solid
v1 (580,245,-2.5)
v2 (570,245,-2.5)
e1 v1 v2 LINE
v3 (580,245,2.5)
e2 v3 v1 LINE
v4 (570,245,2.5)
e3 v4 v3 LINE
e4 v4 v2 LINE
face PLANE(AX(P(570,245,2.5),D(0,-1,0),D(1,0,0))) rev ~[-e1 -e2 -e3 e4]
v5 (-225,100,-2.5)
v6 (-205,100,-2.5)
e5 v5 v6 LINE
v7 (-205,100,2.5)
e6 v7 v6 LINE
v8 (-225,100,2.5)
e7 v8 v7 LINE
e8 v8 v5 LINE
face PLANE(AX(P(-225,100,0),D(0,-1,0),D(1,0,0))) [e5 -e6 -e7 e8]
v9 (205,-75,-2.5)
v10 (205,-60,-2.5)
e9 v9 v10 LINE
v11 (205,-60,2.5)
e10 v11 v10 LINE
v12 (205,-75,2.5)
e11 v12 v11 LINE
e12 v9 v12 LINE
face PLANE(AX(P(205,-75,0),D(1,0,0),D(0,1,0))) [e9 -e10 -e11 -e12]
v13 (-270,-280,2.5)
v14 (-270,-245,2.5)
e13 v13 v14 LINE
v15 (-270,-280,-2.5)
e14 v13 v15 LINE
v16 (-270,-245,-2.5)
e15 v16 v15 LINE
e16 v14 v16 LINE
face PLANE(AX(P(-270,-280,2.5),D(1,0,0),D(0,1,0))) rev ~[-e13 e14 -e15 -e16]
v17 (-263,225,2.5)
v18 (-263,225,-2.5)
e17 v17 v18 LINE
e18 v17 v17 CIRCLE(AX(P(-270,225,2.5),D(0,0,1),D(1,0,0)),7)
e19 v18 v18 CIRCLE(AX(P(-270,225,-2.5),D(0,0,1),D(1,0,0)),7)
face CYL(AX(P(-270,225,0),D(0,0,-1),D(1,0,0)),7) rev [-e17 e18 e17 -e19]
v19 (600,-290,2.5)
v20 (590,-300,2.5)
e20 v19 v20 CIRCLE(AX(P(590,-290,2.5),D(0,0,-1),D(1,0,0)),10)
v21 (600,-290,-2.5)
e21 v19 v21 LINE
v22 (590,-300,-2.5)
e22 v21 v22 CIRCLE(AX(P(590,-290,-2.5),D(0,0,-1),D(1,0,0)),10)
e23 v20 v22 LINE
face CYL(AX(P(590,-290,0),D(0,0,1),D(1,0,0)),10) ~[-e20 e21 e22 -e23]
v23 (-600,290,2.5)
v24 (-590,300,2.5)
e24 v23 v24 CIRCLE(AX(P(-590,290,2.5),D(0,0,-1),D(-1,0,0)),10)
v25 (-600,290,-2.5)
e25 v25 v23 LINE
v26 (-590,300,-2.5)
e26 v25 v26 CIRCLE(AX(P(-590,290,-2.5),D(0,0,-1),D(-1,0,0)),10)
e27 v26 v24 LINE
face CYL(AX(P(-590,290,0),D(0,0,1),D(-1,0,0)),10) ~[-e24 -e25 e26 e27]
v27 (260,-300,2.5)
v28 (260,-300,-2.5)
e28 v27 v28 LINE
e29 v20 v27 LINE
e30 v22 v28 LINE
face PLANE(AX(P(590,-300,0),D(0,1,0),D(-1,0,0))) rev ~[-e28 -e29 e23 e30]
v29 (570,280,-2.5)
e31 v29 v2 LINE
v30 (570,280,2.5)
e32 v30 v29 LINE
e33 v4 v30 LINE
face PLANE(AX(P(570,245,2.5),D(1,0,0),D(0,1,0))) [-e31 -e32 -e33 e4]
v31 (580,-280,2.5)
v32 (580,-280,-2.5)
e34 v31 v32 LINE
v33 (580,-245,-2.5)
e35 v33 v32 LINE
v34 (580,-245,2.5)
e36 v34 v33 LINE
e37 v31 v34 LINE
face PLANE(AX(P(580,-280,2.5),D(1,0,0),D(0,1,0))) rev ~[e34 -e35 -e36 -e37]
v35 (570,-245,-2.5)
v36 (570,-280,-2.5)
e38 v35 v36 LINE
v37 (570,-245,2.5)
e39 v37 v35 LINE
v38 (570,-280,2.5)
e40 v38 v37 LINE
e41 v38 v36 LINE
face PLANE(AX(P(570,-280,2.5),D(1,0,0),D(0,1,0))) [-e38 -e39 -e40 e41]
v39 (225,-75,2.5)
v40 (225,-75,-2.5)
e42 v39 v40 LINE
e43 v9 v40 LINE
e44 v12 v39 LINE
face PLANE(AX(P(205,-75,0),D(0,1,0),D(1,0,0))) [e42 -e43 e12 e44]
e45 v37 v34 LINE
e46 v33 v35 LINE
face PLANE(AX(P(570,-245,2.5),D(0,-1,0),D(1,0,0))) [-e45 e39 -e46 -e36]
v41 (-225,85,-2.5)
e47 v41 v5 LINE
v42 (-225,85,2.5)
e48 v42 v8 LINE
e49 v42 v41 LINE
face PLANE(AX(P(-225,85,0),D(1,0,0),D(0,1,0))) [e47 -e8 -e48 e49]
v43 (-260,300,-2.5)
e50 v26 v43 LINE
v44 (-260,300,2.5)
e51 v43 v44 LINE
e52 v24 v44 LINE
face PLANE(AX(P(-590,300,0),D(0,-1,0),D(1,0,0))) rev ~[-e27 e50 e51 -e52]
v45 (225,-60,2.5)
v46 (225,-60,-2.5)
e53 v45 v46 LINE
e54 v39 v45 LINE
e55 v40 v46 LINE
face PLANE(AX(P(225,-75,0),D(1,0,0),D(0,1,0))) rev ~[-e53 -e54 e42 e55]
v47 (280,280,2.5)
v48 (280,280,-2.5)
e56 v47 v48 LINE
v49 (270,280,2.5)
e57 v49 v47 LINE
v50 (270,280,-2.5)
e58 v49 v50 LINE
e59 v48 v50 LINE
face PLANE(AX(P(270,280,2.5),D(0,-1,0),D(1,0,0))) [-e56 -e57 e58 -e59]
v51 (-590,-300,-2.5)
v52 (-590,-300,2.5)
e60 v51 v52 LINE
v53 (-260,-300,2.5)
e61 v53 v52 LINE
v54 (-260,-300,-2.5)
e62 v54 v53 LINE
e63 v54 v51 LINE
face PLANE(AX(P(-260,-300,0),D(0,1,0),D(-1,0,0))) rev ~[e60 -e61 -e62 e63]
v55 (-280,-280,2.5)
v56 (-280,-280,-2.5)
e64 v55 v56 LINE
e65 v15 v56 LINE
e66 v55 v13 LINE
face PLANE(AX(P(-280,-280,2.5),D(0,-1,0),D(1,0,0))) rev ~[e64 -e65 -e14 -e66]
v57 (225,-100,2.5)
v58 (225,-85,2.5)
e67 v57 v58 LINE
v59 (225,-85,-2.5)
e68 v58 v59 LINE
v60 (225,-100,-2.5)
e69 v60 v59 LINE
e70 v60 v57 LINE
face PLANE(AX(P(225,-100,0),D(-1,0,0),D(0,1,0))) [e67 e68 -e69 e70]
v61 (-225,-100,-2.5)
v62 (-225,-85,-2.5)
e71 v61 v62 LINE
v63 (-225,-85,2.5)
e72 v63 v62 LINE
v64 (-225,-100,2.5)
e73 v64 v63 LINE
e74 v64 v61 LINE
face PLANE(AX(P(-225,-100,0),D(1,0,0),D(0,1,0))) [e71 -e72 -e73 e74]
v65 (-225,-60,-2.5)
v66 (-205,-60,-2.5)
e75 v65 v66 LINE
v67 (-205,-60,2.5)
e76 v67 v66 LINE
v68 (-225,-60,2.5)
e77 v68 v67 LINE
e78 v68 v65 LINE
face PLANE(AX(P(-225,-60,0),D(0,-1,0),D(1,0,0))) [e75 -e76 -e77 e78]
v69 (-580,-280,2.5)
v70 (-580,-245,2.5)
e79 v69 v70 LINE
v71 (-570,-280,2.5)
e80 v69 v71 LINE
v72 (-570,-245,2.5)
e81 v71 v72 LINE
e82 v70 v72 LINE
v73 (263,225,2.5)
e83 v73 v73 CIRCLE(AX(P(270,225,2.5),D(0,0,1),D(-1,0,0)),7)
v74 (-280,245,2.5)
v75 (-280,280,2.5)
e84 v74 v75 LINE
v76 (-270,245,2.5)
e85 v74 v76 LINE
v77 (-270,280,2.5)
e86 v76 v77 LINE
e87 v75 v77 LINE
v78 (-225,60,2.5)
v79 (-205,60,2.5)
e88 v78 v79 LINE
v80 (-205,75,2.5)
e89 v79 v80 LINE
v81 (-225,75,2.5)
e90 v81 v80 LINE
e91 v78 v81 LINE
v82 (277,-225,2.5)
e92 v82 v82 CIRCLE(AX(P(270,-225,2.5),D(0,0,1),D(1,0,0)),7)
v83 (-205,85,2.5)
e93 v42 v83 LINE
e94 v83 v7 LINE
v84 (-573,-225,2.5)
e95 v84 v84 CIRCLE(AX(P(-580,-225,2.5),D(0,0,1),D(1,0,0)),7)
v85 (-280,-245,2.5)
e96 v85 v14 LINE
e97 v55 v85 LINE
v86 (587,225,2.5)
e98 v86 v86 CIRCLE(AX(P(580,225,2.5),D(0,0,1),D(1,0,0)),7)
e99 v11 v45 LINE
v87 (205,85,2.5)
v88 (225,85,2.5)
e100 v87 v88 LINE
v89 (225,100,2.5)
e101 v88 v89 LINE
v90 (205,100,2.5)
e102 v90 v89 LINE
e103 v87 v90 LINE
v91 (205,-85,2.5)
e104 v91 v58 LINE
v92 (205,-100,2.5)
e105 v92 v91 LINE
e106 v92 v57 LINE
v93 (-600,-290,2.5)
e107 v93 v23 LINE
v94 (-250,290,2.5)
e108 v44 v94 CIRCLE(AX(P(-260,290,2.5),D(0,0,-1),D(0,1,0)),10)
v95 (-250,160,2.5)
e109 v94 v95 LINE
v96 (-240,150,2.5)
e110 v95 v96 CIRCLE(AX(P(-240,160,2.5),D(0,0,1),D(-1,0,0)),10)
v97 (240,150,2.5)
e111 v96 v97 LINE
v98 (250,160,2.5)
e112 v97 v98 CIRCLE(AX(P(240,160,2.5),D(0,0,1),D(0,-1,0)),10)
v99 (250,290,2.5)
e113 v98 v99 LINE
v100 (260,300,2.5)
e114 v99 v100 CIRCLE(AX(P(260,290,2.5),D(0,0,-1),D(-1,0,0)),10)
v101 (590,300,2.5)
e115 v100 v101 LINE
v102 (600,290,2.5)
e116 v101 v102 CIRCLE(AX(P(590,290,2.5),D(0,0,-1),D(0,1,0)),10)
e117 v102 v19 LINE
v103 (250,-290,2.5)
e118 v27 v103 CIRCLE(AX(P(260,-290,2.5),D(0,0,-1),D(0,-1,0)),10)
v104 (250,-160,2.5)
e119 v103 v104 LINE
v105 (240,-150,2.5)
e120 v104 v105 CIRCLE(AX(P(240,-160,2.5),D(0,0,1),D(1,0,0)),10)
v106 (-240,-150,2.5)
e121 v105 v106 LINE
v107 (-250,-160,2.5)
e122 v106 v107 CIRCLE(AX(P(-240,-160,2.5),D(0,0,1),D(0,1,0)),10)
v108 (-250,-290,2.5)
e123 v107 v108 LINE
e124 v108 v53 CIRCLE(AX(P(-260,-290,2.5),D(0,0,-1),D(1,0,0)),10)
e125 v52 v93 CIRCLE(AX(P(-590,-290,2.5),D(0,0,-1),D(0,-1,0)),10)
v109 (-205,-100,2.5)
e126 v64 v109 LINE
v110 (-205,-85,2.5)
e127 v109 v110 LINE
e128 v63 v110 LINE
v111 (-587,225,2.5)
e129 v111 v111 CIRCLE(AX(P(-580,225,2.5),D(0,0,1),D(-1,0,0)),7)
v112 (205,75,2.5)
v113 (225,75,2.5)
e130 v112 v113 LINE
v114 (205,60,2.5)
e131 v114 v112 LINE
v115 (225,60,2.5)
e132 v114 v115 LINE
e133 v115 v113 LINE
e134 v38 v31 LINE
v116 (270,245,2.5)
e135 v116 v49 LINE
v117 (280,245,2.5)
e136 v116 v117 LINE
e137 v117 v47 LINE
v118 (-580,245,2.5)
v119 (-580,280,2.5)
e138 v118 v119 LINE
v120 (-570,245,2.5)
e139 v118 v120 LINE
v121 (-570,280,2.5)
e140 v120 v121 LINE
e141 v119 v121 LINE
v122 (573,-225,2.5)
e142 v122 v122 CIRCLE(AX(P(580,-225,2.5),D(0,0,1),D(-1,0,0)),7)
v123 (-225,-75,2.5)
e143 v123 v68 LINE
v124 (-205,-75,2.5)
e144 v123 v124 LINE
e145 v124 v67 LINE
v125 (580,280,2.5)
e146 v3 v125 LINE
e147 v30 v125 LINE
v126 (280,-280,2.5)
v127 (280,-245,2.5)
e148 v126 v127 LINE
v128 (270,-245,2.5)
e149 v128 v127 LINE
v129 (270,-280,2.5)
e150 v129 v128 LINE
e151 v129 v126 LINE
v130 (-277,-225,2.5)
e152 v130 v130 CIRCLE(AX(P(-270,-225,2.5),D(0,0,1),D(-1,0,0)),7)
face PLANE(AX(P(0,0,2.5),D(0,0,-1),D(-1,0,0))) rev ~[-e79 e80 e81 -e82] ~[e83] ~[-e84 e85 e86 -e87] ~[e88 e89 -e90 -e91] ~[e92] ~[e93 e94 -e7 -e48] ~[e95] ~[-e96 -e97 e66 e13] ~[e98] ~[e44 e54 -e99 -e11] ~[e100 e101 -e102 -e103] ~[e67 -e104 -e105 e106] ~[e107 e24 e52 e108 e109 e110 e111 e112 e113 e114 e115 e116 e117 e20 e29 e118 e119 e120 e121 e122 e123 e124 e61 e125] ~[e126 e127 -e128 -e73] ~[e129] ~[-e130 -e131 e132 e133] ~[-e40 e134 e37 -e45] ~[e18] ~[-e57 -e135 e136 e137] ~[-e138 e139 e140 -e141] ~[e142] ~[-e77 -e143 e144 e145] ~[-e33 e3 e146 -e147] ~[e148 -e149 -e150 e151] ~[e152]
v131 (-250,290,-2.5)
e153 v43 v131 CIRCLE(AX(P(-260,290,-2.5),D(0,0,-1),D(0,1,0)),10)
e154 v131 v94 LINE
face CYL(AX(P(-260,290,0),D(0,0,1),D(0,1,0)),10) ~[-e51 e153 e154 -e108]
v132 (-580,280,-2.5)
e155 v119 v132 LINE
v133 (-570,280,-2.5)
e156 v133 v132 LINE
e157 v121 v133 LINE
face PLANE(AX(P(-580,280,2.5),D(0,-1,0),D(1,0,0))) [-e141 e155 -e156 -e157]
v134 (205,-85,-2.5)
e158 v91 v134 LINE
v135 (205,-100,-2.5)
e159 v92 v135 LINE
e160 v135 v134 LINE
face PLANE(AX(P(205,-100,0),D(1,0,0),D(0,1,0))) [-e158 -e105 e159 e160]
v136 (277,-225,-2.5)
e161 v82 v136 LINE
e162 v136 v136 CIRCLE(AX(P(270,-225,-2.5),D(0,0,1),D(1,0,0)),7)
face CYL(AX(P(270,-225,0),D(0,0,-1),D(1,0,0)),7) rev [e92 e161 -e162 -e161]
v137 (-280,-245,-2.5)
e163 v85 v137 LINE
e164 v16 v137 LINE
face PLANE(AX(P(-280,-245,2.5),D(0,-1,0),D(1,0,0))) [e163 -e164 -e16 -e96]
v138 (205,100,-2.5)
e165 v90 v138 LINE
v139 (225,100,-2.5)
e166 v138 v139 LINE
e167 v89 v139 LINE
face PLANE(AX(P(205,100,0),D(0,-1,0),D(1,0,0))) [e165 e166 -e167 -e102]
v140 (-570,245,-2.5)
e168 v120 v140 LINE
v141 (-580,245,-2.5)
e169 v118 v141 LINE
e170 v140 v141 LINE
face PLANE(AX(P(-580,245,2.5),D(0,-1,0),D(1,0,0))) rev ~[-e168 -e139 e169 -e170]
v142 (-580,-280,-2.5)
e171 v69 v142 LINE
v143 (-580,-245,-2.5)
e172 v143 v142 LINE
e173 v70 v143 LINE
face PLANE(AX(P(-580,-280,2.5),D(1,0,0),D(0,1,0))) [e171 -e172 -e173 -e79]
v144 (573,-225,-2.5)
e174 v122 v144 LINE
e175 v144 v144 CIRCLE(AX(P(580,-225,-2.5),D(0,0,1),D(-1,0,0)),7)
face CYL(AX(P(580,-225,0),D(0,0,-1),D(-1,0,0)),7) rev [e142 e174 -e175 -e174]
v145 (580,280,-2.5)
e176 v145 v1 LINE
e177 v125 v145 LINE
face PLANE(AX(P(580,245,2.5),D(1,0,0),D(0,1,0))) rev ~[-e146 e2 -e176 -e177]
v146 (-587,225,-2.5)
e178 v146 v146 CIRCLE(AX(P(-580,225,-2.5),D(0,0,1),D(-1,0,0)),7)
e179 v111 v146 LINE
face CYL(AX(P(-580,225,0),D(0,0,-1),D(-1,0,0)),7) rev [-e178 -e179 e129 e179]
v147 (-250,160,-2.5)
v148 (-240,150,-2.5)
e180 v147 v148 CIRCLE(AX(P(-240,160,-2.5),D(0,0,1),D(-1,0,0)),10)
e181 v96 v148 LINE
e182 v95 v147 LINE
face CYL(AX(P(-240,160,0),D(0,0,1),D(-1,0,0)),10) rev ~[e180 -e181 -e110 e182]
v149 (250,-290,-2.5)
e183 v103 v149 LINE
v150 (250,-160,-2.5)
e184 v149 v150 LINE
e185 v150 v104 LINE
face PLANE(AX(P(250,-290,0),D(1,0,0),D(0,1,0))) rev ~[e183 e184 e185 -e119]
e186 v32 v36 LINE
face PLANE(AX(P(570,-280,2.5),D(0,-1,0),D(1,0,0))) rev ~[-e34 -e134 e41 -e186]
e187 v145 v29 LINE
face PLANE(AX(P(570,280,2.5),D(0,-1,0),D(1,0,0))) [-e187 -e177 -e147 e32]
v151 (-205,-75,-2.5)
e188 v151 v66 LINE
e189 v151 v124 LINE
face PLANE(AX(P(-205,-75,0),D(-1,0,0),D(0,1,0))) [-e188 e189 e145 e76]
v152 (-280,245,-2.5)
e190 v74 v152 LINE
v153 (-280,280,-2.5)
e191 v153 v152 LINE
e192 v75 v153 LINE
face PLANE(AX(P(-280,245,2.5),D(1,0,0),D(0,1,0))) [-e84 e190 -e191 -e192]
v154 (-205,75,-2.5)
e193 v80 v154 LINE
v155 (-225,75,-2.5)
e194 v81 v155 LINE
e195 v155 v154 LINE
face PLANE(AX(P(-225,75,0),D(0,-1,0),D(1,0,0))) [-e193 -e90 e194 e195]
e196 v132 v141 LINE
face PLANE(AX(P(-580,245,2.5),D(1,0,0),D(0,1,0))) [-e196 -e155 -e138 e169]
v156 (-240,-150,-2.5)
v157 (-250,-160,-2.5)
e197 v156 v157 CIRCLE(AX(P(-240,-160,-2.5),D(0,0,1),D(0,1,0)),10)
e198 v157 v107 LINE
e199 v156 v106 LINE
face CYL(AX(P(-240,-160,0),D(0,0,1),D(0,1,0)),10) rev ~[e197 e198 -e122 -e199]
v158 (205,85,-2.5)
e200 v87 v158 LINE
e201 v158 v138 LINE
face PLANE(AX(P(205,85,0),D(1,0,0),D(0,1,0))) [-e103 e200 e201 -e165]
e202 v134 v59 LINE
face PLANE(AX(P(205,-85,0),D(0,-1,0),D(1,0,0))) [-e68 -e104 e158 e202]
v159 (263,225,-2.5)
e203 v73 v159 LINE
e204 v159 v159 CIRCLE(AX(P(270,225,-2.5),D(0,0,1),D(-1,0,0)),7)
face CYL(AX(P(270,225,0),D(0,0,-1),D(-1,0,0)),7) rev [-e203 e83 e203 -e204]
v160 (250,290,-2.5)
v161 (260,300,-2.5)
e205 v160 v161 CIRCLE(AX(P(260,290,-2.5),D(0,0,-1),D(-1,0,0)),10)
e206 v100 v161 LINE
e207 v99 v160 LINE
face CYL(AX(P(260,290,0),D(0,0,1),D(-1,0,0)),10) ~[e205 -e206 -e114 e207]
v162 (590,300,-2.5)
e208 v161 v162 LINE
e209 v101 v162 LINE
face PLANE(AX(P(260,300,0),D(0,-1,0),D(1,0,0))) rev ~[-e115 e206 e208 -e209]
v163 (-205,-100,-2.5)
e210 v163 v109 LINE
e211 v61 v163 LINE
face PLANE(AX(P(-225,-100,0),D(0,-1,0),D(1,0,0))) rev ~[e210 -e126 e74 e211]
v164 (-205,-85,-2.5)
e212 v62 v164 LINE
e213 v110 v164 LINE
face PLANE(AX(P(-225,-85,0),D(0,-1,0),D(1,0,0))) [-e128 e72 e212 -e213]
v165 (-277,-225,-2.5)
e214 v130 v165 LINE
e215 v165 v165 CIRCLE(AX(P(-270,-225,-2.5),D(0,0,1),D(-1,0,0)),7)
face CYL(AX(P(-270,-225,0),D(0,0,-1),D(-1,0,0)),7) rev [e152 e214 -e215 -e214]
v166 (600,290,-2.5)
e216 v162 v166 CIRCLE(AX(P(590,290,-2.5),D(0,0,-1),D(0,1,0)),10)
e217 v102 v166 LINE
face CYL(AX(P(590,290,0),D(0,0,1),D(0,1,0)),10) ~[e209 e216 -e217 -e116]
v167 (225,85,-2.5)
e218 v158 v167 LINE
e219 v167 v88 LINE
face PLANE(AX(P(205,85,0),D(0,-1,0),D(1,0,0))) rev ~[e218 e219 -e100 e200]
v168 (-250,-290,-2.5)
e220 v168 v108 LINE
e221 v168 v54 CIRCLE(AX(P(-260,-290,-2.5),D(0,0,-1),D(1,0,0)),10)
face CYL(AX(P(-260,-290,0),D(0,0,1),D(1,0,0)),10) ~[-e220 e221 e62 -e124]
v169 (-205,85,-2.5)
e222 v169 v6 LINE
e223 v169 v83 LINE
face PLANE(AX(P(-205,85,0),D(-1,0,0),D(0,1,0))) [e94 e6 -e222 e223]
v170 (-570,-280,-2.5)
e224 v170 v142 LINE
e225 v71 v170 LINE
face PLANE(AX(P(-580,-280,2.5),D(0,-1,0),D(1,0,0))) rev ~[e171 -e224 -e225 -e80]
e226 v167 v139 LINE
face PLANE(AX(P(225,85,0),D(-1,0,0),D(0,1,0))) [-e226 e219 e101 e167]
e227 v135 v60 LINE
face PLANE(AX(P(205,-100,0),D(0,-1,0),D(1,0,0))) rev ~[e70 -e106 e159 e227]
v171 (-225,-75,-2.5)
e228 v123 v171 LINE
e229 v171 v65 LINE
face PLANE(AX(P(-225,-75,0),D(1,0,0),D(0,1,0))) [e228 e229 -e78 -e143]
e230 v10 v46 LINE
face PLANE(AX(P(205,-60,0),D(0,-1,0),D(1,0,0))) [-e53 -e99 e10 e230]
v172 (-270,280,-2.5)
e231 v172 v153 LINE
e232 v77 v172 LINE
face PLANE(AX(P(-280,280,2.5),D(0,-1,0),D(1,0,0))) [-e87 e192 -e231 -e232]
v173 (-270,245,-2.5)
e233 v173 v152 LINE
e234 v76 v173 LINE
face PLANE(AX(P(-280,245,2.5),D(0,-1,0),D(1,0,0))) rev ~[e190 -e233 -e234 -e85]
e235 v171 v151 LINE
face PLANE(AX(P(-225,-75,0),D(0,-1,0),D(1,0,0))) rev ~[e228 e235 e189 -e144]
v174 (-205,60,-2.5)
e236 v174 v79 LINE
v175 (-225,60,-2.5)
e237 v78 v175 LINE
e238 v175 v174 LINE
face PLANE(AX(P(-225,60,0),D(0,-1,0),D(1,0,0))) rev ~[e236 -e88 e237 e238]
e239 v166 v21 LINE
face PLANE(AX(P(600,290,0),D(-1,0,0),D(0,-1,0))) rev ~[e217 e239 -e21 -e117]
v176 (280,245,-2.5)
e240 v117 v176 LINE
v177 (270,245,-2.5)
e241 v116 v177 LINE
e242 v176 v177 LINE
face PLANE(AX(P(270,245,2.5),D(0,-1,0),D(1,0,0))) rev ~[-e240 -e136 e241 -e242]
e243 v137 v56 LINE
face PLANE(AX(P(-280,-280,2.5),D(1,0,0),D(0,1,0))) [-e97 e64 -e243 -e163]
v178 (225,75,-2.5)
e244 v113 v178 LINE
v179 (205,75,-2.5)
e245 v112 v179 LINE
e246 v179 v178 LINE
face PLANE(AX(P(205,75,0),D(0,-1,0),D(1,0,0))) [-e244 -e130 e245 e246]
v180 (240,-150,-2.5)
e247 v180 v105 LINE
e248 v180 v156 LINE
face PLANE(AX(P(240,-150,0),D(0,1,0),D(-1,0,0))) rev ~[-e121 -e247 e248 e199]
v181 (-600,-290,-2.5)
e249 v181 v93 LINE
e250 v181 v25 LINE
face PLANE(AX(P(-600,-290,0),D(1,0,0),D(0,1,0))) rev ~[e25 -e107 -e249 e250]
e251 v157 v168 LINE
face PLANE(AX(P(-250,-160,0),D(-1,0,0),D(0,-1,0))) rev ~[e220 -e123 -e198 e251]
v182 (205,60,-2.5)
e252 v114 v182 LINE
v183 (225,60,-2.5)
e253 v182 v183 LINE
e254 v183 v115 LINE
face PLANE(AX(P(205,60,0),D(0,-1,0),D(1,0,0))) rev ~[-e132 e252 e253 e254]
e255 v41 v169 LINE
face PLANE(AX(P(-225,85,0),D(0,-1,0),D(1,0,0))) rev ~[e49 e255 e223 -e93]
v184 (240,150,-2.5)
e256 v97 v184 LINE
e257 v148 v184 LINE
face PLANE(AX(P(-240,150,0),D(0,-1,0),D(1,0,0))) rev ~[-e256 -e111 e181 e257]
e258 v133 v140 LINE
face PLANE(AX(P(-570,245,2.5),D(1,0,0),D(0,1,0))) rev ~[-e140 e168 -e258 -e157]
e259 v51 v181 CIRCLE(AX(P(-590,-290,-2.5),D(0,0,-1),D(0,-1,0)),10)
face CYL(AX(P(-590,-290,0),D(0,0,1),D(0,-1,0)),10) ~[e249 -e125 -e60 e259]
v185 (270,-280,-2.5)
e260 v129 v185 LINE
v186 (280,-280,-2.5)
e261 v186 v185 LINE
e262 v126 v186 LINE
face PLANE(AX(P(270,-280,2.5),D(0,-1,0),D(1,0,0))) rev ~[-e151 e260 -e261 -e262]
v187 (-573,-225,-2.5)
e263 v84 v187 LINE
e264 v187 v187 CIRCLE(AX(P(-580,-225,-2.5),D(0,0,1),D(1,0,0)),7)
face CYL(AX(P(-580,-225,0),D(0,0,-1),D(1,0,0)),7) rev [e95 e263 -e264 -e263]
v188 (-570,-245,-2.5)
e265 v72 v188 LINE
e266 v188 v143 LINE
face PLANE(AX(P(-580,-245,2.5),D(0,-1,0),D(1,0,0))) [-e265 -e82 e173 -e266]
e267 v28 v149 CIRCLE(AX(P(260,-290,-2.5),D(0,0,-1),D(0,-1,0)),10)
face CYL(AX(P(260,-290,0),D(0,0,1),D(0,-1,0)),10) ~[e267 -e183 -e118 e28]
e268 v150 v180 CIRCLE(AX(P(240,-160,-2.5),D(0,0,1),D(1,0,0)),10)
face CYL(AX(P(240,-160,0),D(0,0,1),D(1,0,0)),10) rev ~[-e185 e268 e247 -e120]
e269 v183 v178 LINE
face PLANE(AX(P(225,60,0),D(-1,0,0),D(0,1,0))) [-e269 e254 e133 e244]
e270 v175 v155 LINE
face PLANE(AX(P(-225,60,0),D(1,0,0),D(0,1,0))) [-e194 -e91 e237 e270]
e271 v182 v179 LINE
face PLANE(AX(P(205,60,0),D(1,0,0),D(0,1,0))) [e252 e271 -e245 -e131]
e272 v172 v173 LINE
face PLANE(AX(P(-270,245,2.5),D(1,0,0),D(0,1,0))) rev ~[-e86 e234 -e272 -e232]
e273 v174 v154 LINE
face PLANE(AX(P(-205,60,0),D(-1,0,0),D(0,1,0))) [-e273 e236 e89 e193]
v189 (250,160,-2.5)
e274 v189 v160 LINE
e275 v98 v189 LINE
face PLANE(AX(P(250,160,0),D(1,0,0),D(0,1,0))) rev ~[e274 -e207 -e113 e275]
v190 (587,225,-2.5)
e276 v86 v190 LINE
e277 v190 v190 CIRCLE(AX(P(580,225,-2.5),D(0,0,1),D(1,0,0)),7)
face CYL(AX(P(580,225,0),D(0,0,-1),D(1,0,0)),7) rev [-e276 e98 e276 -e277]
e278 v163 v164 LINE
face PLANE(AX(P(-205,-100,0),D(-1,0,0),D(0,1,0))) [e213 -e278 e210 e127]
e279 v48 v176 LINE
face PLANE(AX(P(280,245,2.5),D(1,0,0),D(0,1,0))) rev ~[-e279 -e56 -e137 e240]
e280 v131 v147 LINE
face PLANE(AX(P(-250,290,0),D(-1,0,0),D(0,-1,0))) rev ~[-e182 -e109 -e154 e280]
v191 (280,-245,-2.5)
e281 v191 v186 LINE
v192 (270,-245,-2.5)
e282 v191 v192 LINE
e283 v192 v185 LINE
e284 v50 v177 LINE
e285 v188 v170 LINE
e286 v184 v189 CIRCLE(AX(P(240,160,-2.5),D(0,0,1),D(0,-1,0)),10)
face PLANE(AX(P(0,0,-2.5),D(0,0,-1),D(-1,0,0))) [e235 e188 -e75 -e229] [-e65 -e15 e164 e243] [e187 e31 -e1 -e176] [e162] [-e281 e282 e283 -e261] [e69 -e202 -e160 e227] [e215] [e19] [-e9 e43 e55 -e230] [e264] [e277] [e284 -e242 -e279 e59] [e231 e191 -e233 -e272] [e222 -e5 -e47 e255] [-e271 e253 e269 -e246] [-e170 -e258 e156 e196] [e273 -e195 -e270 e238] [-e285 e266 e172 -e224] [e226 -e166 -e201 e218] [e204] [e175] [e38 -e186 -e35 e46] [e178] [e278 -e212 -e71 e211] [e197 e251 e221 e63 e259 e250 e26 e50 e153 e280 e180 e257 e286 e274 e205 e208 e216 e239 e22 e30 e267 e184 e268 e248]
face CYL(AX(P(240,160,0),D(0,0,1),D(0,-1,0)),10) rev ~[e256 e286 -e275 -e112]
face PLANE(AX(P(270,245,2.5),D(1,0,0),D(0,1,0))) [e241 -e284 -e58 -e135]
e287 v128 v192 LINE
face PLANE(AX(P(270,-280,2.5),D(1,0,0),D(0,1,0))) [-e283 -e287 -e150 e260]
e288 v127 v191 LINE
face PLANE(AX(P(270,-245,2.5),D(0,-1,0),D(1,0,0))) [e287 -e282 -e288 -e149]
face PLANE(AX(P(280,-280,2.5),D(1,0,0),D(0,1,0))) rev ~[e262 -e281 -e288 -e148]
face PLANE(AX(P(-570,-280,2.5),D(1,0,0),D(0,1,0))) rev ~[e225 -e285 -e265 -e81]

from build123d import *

# Parameters (mm, degrees)
SKETCH_1_R          = 7
SKETCH_1_W          = 20
SKETCH_1_H          = 15
EXTRUDE_1_DEPTH     = 2.5
SKETCH_2_W          = 10
SKETCH_2_H          = 35
CUT_EXTRUDE_3_DEPTH = 671.839026891


with BuildPart() as part:
    # 草图1 → 凸台-拉伸1 (new, symmetric)
    with BuildSketch(Plane.XY):
        with BuildLine():
            Line((-250, 290), (-250, 160))
            ThreePointArc((-250, 160), (-247.071067812, 152.928932188), (-240, 150))
            Line((-240, 150), (240, 150))
            ThreePointArc((240, 150), (247.071067812, 152.928932188), (250, 160))
            Line((250, 160), (250, 290))
            ThreePointArc((250, 290), (252.928932188, 297.071067812), (260, 300))
            Line((260, 300), (590, 300))
            ThreePointArc((590, 300), (597.071067812, 297.071067812), (600, 290))
            Line((600, 290), (600, -290))
            ThreePointArc((600, -290), (597.071067812, -297.071067812), (590, -300))
            Line((590, -300), (260, -300))
            ThreePointArc((260, -300), (252.928932188, -297.071067812), (250, -290))
            Line((250, -290), (250, -160))
            ThreePointArc((250, -160), (247.071067812, -152.928932188), (240, -150))
            Line((240, -150), (-240, -150))
            ThreePointArc((-240, -150), (-247.071067812, -152.928932188), (-250, -160))
            Line((-250, -160), (-250, -290))
            ThreePointArc((-250, -290), (-252.928932188, -297.071067812), (-260, -300))
            Line((-260, -300), (-590, -300))
            ThreePointArc((-590, -300), (-597.071067812, -297.071067812), (-600, -290))
            Line((-600, -290), (-600, 290))
            ThreePointArc((-600, 290), (-597.071067812, 297.071067812), (-590, 300))
            Line((-590, 300), (-260, 300))
            ThreePointArc((-260, 300), (-252.928932188, 297.071067812), (-250, 290))
        make_face()
        with Locations((-580, -225)):
            Circle(SKETCH_1_R, mode=Mode.SUBTRACT)
        with Locations(Location((-580, 225, 0), (0, 0, 180))):
            Circle(SKETCH_1_R, mode=Mode.SUBTRACT)
        with Locations((-270, 225)):
            Circle(SKETCH_1_R, mode=Mode.SUBTRACT)
        with Locations(Location((-270, -225, 0), (0, 0, 180))):
            Circle(SKETCH_1_R, mode=Mode.SUBTRACT)
        with Locations((270, -225)):
            Circle(SKETCH_1_R, mode=Mode.SUBTRACT)
        with Locations(Location((580, -225, 0), (0, 0, 180))):
            Circle(SKETCH_1_R, mode=Mode.SUBTRACT)
        with Locations(Location((270, 225, 0), (0, 0, 180))):
            Circle(SKETCH_1_R, mode=Mode.SUBTRACT)
        with Locations((580, 225)):
            Circle(SKETCH_1_R, mode=Mode.SUBTRACT)
        with Locations((-215, -67.5)):
            Rectangle(SKETCH_1_W, SKETCH_1_H, mode=Mode.SUBTRACT)
        with Locations((-215, 92.5)):
            Rectangle(SKETCH_1_W, SKETCH_1_H, mode=Mode.SUBTRACT)
        with Locations((-215, 67.5)):
            Rectangle(SKETCH_1_W, SKETCH_1_H, mode=Mode.SUBTRACT)
        with Locations((-215, -92.5)):
            Rectangle(SKETCH_1_W, SKETCH_1_H, mode=Mode.SUBTRACT)
        with Locations((215, -92.5)):
            Rectangle(SKETCH_1_W, SKETCH_1_H, mode=Mode.SUBTRACT)
        with Locations((215, 67.5)):
            Rectangle(SKETCH_1_W, SKETCH_1_H, mode=Mode.SUBTRACT)
        with Locations((215, 92.5)):
            Rectangle(SKETCH_1_W, SKETCH_1_H, mode=Mode.SUBTRACT)
        with Locations((215, -67.5)):
            Rectangle(SKETCH_1_W, SKETCH_1_H, mode=Mode.SUBTRACT)
    extrude(amount=EXTRUDE_1_DEPTH, both=True)

    # 草图2 → 切除-拉伸3 (cut, through all)
    with BuildSketch(Plane.XY.offset(2.5)):
        with Locations((-575, 262.5)):
            Rectangle(SKETCH_2_W, SKETCH_2_H)
        with Locations((-575, -262.5)):
            Rectangle(SKETCH_2_W, SKETCH_2_H)
        with Locations((575, -262.5)):
            Rectangle(SKETCH_2_W, SKETCH_2_H)
        with Locations((575, 262.5)):
            Rectangle(SKETCH_2_W, SKETCH_2_H)
        with Locations((275, -262.5)):
            Rectangle(SKETCH_2_W, SKETCH_2_H)
        with Locations((275, 262.5)):
            Rectangle(SKETCH_2_W, SKETCH_2_H)
        with Locations((-275, 262.5)):
            Rectangle(SKETCH_2_W, SKETCH_2_H)
        with Locations((-275, -262.5)):
            Rectangle(SKETCH_2_W, SKETCH_2_H)
    extrude(amount=-CUT_EXTRUDE_3_DEPTH, mode=Mode.SUBTRACT)


solid = part.part
